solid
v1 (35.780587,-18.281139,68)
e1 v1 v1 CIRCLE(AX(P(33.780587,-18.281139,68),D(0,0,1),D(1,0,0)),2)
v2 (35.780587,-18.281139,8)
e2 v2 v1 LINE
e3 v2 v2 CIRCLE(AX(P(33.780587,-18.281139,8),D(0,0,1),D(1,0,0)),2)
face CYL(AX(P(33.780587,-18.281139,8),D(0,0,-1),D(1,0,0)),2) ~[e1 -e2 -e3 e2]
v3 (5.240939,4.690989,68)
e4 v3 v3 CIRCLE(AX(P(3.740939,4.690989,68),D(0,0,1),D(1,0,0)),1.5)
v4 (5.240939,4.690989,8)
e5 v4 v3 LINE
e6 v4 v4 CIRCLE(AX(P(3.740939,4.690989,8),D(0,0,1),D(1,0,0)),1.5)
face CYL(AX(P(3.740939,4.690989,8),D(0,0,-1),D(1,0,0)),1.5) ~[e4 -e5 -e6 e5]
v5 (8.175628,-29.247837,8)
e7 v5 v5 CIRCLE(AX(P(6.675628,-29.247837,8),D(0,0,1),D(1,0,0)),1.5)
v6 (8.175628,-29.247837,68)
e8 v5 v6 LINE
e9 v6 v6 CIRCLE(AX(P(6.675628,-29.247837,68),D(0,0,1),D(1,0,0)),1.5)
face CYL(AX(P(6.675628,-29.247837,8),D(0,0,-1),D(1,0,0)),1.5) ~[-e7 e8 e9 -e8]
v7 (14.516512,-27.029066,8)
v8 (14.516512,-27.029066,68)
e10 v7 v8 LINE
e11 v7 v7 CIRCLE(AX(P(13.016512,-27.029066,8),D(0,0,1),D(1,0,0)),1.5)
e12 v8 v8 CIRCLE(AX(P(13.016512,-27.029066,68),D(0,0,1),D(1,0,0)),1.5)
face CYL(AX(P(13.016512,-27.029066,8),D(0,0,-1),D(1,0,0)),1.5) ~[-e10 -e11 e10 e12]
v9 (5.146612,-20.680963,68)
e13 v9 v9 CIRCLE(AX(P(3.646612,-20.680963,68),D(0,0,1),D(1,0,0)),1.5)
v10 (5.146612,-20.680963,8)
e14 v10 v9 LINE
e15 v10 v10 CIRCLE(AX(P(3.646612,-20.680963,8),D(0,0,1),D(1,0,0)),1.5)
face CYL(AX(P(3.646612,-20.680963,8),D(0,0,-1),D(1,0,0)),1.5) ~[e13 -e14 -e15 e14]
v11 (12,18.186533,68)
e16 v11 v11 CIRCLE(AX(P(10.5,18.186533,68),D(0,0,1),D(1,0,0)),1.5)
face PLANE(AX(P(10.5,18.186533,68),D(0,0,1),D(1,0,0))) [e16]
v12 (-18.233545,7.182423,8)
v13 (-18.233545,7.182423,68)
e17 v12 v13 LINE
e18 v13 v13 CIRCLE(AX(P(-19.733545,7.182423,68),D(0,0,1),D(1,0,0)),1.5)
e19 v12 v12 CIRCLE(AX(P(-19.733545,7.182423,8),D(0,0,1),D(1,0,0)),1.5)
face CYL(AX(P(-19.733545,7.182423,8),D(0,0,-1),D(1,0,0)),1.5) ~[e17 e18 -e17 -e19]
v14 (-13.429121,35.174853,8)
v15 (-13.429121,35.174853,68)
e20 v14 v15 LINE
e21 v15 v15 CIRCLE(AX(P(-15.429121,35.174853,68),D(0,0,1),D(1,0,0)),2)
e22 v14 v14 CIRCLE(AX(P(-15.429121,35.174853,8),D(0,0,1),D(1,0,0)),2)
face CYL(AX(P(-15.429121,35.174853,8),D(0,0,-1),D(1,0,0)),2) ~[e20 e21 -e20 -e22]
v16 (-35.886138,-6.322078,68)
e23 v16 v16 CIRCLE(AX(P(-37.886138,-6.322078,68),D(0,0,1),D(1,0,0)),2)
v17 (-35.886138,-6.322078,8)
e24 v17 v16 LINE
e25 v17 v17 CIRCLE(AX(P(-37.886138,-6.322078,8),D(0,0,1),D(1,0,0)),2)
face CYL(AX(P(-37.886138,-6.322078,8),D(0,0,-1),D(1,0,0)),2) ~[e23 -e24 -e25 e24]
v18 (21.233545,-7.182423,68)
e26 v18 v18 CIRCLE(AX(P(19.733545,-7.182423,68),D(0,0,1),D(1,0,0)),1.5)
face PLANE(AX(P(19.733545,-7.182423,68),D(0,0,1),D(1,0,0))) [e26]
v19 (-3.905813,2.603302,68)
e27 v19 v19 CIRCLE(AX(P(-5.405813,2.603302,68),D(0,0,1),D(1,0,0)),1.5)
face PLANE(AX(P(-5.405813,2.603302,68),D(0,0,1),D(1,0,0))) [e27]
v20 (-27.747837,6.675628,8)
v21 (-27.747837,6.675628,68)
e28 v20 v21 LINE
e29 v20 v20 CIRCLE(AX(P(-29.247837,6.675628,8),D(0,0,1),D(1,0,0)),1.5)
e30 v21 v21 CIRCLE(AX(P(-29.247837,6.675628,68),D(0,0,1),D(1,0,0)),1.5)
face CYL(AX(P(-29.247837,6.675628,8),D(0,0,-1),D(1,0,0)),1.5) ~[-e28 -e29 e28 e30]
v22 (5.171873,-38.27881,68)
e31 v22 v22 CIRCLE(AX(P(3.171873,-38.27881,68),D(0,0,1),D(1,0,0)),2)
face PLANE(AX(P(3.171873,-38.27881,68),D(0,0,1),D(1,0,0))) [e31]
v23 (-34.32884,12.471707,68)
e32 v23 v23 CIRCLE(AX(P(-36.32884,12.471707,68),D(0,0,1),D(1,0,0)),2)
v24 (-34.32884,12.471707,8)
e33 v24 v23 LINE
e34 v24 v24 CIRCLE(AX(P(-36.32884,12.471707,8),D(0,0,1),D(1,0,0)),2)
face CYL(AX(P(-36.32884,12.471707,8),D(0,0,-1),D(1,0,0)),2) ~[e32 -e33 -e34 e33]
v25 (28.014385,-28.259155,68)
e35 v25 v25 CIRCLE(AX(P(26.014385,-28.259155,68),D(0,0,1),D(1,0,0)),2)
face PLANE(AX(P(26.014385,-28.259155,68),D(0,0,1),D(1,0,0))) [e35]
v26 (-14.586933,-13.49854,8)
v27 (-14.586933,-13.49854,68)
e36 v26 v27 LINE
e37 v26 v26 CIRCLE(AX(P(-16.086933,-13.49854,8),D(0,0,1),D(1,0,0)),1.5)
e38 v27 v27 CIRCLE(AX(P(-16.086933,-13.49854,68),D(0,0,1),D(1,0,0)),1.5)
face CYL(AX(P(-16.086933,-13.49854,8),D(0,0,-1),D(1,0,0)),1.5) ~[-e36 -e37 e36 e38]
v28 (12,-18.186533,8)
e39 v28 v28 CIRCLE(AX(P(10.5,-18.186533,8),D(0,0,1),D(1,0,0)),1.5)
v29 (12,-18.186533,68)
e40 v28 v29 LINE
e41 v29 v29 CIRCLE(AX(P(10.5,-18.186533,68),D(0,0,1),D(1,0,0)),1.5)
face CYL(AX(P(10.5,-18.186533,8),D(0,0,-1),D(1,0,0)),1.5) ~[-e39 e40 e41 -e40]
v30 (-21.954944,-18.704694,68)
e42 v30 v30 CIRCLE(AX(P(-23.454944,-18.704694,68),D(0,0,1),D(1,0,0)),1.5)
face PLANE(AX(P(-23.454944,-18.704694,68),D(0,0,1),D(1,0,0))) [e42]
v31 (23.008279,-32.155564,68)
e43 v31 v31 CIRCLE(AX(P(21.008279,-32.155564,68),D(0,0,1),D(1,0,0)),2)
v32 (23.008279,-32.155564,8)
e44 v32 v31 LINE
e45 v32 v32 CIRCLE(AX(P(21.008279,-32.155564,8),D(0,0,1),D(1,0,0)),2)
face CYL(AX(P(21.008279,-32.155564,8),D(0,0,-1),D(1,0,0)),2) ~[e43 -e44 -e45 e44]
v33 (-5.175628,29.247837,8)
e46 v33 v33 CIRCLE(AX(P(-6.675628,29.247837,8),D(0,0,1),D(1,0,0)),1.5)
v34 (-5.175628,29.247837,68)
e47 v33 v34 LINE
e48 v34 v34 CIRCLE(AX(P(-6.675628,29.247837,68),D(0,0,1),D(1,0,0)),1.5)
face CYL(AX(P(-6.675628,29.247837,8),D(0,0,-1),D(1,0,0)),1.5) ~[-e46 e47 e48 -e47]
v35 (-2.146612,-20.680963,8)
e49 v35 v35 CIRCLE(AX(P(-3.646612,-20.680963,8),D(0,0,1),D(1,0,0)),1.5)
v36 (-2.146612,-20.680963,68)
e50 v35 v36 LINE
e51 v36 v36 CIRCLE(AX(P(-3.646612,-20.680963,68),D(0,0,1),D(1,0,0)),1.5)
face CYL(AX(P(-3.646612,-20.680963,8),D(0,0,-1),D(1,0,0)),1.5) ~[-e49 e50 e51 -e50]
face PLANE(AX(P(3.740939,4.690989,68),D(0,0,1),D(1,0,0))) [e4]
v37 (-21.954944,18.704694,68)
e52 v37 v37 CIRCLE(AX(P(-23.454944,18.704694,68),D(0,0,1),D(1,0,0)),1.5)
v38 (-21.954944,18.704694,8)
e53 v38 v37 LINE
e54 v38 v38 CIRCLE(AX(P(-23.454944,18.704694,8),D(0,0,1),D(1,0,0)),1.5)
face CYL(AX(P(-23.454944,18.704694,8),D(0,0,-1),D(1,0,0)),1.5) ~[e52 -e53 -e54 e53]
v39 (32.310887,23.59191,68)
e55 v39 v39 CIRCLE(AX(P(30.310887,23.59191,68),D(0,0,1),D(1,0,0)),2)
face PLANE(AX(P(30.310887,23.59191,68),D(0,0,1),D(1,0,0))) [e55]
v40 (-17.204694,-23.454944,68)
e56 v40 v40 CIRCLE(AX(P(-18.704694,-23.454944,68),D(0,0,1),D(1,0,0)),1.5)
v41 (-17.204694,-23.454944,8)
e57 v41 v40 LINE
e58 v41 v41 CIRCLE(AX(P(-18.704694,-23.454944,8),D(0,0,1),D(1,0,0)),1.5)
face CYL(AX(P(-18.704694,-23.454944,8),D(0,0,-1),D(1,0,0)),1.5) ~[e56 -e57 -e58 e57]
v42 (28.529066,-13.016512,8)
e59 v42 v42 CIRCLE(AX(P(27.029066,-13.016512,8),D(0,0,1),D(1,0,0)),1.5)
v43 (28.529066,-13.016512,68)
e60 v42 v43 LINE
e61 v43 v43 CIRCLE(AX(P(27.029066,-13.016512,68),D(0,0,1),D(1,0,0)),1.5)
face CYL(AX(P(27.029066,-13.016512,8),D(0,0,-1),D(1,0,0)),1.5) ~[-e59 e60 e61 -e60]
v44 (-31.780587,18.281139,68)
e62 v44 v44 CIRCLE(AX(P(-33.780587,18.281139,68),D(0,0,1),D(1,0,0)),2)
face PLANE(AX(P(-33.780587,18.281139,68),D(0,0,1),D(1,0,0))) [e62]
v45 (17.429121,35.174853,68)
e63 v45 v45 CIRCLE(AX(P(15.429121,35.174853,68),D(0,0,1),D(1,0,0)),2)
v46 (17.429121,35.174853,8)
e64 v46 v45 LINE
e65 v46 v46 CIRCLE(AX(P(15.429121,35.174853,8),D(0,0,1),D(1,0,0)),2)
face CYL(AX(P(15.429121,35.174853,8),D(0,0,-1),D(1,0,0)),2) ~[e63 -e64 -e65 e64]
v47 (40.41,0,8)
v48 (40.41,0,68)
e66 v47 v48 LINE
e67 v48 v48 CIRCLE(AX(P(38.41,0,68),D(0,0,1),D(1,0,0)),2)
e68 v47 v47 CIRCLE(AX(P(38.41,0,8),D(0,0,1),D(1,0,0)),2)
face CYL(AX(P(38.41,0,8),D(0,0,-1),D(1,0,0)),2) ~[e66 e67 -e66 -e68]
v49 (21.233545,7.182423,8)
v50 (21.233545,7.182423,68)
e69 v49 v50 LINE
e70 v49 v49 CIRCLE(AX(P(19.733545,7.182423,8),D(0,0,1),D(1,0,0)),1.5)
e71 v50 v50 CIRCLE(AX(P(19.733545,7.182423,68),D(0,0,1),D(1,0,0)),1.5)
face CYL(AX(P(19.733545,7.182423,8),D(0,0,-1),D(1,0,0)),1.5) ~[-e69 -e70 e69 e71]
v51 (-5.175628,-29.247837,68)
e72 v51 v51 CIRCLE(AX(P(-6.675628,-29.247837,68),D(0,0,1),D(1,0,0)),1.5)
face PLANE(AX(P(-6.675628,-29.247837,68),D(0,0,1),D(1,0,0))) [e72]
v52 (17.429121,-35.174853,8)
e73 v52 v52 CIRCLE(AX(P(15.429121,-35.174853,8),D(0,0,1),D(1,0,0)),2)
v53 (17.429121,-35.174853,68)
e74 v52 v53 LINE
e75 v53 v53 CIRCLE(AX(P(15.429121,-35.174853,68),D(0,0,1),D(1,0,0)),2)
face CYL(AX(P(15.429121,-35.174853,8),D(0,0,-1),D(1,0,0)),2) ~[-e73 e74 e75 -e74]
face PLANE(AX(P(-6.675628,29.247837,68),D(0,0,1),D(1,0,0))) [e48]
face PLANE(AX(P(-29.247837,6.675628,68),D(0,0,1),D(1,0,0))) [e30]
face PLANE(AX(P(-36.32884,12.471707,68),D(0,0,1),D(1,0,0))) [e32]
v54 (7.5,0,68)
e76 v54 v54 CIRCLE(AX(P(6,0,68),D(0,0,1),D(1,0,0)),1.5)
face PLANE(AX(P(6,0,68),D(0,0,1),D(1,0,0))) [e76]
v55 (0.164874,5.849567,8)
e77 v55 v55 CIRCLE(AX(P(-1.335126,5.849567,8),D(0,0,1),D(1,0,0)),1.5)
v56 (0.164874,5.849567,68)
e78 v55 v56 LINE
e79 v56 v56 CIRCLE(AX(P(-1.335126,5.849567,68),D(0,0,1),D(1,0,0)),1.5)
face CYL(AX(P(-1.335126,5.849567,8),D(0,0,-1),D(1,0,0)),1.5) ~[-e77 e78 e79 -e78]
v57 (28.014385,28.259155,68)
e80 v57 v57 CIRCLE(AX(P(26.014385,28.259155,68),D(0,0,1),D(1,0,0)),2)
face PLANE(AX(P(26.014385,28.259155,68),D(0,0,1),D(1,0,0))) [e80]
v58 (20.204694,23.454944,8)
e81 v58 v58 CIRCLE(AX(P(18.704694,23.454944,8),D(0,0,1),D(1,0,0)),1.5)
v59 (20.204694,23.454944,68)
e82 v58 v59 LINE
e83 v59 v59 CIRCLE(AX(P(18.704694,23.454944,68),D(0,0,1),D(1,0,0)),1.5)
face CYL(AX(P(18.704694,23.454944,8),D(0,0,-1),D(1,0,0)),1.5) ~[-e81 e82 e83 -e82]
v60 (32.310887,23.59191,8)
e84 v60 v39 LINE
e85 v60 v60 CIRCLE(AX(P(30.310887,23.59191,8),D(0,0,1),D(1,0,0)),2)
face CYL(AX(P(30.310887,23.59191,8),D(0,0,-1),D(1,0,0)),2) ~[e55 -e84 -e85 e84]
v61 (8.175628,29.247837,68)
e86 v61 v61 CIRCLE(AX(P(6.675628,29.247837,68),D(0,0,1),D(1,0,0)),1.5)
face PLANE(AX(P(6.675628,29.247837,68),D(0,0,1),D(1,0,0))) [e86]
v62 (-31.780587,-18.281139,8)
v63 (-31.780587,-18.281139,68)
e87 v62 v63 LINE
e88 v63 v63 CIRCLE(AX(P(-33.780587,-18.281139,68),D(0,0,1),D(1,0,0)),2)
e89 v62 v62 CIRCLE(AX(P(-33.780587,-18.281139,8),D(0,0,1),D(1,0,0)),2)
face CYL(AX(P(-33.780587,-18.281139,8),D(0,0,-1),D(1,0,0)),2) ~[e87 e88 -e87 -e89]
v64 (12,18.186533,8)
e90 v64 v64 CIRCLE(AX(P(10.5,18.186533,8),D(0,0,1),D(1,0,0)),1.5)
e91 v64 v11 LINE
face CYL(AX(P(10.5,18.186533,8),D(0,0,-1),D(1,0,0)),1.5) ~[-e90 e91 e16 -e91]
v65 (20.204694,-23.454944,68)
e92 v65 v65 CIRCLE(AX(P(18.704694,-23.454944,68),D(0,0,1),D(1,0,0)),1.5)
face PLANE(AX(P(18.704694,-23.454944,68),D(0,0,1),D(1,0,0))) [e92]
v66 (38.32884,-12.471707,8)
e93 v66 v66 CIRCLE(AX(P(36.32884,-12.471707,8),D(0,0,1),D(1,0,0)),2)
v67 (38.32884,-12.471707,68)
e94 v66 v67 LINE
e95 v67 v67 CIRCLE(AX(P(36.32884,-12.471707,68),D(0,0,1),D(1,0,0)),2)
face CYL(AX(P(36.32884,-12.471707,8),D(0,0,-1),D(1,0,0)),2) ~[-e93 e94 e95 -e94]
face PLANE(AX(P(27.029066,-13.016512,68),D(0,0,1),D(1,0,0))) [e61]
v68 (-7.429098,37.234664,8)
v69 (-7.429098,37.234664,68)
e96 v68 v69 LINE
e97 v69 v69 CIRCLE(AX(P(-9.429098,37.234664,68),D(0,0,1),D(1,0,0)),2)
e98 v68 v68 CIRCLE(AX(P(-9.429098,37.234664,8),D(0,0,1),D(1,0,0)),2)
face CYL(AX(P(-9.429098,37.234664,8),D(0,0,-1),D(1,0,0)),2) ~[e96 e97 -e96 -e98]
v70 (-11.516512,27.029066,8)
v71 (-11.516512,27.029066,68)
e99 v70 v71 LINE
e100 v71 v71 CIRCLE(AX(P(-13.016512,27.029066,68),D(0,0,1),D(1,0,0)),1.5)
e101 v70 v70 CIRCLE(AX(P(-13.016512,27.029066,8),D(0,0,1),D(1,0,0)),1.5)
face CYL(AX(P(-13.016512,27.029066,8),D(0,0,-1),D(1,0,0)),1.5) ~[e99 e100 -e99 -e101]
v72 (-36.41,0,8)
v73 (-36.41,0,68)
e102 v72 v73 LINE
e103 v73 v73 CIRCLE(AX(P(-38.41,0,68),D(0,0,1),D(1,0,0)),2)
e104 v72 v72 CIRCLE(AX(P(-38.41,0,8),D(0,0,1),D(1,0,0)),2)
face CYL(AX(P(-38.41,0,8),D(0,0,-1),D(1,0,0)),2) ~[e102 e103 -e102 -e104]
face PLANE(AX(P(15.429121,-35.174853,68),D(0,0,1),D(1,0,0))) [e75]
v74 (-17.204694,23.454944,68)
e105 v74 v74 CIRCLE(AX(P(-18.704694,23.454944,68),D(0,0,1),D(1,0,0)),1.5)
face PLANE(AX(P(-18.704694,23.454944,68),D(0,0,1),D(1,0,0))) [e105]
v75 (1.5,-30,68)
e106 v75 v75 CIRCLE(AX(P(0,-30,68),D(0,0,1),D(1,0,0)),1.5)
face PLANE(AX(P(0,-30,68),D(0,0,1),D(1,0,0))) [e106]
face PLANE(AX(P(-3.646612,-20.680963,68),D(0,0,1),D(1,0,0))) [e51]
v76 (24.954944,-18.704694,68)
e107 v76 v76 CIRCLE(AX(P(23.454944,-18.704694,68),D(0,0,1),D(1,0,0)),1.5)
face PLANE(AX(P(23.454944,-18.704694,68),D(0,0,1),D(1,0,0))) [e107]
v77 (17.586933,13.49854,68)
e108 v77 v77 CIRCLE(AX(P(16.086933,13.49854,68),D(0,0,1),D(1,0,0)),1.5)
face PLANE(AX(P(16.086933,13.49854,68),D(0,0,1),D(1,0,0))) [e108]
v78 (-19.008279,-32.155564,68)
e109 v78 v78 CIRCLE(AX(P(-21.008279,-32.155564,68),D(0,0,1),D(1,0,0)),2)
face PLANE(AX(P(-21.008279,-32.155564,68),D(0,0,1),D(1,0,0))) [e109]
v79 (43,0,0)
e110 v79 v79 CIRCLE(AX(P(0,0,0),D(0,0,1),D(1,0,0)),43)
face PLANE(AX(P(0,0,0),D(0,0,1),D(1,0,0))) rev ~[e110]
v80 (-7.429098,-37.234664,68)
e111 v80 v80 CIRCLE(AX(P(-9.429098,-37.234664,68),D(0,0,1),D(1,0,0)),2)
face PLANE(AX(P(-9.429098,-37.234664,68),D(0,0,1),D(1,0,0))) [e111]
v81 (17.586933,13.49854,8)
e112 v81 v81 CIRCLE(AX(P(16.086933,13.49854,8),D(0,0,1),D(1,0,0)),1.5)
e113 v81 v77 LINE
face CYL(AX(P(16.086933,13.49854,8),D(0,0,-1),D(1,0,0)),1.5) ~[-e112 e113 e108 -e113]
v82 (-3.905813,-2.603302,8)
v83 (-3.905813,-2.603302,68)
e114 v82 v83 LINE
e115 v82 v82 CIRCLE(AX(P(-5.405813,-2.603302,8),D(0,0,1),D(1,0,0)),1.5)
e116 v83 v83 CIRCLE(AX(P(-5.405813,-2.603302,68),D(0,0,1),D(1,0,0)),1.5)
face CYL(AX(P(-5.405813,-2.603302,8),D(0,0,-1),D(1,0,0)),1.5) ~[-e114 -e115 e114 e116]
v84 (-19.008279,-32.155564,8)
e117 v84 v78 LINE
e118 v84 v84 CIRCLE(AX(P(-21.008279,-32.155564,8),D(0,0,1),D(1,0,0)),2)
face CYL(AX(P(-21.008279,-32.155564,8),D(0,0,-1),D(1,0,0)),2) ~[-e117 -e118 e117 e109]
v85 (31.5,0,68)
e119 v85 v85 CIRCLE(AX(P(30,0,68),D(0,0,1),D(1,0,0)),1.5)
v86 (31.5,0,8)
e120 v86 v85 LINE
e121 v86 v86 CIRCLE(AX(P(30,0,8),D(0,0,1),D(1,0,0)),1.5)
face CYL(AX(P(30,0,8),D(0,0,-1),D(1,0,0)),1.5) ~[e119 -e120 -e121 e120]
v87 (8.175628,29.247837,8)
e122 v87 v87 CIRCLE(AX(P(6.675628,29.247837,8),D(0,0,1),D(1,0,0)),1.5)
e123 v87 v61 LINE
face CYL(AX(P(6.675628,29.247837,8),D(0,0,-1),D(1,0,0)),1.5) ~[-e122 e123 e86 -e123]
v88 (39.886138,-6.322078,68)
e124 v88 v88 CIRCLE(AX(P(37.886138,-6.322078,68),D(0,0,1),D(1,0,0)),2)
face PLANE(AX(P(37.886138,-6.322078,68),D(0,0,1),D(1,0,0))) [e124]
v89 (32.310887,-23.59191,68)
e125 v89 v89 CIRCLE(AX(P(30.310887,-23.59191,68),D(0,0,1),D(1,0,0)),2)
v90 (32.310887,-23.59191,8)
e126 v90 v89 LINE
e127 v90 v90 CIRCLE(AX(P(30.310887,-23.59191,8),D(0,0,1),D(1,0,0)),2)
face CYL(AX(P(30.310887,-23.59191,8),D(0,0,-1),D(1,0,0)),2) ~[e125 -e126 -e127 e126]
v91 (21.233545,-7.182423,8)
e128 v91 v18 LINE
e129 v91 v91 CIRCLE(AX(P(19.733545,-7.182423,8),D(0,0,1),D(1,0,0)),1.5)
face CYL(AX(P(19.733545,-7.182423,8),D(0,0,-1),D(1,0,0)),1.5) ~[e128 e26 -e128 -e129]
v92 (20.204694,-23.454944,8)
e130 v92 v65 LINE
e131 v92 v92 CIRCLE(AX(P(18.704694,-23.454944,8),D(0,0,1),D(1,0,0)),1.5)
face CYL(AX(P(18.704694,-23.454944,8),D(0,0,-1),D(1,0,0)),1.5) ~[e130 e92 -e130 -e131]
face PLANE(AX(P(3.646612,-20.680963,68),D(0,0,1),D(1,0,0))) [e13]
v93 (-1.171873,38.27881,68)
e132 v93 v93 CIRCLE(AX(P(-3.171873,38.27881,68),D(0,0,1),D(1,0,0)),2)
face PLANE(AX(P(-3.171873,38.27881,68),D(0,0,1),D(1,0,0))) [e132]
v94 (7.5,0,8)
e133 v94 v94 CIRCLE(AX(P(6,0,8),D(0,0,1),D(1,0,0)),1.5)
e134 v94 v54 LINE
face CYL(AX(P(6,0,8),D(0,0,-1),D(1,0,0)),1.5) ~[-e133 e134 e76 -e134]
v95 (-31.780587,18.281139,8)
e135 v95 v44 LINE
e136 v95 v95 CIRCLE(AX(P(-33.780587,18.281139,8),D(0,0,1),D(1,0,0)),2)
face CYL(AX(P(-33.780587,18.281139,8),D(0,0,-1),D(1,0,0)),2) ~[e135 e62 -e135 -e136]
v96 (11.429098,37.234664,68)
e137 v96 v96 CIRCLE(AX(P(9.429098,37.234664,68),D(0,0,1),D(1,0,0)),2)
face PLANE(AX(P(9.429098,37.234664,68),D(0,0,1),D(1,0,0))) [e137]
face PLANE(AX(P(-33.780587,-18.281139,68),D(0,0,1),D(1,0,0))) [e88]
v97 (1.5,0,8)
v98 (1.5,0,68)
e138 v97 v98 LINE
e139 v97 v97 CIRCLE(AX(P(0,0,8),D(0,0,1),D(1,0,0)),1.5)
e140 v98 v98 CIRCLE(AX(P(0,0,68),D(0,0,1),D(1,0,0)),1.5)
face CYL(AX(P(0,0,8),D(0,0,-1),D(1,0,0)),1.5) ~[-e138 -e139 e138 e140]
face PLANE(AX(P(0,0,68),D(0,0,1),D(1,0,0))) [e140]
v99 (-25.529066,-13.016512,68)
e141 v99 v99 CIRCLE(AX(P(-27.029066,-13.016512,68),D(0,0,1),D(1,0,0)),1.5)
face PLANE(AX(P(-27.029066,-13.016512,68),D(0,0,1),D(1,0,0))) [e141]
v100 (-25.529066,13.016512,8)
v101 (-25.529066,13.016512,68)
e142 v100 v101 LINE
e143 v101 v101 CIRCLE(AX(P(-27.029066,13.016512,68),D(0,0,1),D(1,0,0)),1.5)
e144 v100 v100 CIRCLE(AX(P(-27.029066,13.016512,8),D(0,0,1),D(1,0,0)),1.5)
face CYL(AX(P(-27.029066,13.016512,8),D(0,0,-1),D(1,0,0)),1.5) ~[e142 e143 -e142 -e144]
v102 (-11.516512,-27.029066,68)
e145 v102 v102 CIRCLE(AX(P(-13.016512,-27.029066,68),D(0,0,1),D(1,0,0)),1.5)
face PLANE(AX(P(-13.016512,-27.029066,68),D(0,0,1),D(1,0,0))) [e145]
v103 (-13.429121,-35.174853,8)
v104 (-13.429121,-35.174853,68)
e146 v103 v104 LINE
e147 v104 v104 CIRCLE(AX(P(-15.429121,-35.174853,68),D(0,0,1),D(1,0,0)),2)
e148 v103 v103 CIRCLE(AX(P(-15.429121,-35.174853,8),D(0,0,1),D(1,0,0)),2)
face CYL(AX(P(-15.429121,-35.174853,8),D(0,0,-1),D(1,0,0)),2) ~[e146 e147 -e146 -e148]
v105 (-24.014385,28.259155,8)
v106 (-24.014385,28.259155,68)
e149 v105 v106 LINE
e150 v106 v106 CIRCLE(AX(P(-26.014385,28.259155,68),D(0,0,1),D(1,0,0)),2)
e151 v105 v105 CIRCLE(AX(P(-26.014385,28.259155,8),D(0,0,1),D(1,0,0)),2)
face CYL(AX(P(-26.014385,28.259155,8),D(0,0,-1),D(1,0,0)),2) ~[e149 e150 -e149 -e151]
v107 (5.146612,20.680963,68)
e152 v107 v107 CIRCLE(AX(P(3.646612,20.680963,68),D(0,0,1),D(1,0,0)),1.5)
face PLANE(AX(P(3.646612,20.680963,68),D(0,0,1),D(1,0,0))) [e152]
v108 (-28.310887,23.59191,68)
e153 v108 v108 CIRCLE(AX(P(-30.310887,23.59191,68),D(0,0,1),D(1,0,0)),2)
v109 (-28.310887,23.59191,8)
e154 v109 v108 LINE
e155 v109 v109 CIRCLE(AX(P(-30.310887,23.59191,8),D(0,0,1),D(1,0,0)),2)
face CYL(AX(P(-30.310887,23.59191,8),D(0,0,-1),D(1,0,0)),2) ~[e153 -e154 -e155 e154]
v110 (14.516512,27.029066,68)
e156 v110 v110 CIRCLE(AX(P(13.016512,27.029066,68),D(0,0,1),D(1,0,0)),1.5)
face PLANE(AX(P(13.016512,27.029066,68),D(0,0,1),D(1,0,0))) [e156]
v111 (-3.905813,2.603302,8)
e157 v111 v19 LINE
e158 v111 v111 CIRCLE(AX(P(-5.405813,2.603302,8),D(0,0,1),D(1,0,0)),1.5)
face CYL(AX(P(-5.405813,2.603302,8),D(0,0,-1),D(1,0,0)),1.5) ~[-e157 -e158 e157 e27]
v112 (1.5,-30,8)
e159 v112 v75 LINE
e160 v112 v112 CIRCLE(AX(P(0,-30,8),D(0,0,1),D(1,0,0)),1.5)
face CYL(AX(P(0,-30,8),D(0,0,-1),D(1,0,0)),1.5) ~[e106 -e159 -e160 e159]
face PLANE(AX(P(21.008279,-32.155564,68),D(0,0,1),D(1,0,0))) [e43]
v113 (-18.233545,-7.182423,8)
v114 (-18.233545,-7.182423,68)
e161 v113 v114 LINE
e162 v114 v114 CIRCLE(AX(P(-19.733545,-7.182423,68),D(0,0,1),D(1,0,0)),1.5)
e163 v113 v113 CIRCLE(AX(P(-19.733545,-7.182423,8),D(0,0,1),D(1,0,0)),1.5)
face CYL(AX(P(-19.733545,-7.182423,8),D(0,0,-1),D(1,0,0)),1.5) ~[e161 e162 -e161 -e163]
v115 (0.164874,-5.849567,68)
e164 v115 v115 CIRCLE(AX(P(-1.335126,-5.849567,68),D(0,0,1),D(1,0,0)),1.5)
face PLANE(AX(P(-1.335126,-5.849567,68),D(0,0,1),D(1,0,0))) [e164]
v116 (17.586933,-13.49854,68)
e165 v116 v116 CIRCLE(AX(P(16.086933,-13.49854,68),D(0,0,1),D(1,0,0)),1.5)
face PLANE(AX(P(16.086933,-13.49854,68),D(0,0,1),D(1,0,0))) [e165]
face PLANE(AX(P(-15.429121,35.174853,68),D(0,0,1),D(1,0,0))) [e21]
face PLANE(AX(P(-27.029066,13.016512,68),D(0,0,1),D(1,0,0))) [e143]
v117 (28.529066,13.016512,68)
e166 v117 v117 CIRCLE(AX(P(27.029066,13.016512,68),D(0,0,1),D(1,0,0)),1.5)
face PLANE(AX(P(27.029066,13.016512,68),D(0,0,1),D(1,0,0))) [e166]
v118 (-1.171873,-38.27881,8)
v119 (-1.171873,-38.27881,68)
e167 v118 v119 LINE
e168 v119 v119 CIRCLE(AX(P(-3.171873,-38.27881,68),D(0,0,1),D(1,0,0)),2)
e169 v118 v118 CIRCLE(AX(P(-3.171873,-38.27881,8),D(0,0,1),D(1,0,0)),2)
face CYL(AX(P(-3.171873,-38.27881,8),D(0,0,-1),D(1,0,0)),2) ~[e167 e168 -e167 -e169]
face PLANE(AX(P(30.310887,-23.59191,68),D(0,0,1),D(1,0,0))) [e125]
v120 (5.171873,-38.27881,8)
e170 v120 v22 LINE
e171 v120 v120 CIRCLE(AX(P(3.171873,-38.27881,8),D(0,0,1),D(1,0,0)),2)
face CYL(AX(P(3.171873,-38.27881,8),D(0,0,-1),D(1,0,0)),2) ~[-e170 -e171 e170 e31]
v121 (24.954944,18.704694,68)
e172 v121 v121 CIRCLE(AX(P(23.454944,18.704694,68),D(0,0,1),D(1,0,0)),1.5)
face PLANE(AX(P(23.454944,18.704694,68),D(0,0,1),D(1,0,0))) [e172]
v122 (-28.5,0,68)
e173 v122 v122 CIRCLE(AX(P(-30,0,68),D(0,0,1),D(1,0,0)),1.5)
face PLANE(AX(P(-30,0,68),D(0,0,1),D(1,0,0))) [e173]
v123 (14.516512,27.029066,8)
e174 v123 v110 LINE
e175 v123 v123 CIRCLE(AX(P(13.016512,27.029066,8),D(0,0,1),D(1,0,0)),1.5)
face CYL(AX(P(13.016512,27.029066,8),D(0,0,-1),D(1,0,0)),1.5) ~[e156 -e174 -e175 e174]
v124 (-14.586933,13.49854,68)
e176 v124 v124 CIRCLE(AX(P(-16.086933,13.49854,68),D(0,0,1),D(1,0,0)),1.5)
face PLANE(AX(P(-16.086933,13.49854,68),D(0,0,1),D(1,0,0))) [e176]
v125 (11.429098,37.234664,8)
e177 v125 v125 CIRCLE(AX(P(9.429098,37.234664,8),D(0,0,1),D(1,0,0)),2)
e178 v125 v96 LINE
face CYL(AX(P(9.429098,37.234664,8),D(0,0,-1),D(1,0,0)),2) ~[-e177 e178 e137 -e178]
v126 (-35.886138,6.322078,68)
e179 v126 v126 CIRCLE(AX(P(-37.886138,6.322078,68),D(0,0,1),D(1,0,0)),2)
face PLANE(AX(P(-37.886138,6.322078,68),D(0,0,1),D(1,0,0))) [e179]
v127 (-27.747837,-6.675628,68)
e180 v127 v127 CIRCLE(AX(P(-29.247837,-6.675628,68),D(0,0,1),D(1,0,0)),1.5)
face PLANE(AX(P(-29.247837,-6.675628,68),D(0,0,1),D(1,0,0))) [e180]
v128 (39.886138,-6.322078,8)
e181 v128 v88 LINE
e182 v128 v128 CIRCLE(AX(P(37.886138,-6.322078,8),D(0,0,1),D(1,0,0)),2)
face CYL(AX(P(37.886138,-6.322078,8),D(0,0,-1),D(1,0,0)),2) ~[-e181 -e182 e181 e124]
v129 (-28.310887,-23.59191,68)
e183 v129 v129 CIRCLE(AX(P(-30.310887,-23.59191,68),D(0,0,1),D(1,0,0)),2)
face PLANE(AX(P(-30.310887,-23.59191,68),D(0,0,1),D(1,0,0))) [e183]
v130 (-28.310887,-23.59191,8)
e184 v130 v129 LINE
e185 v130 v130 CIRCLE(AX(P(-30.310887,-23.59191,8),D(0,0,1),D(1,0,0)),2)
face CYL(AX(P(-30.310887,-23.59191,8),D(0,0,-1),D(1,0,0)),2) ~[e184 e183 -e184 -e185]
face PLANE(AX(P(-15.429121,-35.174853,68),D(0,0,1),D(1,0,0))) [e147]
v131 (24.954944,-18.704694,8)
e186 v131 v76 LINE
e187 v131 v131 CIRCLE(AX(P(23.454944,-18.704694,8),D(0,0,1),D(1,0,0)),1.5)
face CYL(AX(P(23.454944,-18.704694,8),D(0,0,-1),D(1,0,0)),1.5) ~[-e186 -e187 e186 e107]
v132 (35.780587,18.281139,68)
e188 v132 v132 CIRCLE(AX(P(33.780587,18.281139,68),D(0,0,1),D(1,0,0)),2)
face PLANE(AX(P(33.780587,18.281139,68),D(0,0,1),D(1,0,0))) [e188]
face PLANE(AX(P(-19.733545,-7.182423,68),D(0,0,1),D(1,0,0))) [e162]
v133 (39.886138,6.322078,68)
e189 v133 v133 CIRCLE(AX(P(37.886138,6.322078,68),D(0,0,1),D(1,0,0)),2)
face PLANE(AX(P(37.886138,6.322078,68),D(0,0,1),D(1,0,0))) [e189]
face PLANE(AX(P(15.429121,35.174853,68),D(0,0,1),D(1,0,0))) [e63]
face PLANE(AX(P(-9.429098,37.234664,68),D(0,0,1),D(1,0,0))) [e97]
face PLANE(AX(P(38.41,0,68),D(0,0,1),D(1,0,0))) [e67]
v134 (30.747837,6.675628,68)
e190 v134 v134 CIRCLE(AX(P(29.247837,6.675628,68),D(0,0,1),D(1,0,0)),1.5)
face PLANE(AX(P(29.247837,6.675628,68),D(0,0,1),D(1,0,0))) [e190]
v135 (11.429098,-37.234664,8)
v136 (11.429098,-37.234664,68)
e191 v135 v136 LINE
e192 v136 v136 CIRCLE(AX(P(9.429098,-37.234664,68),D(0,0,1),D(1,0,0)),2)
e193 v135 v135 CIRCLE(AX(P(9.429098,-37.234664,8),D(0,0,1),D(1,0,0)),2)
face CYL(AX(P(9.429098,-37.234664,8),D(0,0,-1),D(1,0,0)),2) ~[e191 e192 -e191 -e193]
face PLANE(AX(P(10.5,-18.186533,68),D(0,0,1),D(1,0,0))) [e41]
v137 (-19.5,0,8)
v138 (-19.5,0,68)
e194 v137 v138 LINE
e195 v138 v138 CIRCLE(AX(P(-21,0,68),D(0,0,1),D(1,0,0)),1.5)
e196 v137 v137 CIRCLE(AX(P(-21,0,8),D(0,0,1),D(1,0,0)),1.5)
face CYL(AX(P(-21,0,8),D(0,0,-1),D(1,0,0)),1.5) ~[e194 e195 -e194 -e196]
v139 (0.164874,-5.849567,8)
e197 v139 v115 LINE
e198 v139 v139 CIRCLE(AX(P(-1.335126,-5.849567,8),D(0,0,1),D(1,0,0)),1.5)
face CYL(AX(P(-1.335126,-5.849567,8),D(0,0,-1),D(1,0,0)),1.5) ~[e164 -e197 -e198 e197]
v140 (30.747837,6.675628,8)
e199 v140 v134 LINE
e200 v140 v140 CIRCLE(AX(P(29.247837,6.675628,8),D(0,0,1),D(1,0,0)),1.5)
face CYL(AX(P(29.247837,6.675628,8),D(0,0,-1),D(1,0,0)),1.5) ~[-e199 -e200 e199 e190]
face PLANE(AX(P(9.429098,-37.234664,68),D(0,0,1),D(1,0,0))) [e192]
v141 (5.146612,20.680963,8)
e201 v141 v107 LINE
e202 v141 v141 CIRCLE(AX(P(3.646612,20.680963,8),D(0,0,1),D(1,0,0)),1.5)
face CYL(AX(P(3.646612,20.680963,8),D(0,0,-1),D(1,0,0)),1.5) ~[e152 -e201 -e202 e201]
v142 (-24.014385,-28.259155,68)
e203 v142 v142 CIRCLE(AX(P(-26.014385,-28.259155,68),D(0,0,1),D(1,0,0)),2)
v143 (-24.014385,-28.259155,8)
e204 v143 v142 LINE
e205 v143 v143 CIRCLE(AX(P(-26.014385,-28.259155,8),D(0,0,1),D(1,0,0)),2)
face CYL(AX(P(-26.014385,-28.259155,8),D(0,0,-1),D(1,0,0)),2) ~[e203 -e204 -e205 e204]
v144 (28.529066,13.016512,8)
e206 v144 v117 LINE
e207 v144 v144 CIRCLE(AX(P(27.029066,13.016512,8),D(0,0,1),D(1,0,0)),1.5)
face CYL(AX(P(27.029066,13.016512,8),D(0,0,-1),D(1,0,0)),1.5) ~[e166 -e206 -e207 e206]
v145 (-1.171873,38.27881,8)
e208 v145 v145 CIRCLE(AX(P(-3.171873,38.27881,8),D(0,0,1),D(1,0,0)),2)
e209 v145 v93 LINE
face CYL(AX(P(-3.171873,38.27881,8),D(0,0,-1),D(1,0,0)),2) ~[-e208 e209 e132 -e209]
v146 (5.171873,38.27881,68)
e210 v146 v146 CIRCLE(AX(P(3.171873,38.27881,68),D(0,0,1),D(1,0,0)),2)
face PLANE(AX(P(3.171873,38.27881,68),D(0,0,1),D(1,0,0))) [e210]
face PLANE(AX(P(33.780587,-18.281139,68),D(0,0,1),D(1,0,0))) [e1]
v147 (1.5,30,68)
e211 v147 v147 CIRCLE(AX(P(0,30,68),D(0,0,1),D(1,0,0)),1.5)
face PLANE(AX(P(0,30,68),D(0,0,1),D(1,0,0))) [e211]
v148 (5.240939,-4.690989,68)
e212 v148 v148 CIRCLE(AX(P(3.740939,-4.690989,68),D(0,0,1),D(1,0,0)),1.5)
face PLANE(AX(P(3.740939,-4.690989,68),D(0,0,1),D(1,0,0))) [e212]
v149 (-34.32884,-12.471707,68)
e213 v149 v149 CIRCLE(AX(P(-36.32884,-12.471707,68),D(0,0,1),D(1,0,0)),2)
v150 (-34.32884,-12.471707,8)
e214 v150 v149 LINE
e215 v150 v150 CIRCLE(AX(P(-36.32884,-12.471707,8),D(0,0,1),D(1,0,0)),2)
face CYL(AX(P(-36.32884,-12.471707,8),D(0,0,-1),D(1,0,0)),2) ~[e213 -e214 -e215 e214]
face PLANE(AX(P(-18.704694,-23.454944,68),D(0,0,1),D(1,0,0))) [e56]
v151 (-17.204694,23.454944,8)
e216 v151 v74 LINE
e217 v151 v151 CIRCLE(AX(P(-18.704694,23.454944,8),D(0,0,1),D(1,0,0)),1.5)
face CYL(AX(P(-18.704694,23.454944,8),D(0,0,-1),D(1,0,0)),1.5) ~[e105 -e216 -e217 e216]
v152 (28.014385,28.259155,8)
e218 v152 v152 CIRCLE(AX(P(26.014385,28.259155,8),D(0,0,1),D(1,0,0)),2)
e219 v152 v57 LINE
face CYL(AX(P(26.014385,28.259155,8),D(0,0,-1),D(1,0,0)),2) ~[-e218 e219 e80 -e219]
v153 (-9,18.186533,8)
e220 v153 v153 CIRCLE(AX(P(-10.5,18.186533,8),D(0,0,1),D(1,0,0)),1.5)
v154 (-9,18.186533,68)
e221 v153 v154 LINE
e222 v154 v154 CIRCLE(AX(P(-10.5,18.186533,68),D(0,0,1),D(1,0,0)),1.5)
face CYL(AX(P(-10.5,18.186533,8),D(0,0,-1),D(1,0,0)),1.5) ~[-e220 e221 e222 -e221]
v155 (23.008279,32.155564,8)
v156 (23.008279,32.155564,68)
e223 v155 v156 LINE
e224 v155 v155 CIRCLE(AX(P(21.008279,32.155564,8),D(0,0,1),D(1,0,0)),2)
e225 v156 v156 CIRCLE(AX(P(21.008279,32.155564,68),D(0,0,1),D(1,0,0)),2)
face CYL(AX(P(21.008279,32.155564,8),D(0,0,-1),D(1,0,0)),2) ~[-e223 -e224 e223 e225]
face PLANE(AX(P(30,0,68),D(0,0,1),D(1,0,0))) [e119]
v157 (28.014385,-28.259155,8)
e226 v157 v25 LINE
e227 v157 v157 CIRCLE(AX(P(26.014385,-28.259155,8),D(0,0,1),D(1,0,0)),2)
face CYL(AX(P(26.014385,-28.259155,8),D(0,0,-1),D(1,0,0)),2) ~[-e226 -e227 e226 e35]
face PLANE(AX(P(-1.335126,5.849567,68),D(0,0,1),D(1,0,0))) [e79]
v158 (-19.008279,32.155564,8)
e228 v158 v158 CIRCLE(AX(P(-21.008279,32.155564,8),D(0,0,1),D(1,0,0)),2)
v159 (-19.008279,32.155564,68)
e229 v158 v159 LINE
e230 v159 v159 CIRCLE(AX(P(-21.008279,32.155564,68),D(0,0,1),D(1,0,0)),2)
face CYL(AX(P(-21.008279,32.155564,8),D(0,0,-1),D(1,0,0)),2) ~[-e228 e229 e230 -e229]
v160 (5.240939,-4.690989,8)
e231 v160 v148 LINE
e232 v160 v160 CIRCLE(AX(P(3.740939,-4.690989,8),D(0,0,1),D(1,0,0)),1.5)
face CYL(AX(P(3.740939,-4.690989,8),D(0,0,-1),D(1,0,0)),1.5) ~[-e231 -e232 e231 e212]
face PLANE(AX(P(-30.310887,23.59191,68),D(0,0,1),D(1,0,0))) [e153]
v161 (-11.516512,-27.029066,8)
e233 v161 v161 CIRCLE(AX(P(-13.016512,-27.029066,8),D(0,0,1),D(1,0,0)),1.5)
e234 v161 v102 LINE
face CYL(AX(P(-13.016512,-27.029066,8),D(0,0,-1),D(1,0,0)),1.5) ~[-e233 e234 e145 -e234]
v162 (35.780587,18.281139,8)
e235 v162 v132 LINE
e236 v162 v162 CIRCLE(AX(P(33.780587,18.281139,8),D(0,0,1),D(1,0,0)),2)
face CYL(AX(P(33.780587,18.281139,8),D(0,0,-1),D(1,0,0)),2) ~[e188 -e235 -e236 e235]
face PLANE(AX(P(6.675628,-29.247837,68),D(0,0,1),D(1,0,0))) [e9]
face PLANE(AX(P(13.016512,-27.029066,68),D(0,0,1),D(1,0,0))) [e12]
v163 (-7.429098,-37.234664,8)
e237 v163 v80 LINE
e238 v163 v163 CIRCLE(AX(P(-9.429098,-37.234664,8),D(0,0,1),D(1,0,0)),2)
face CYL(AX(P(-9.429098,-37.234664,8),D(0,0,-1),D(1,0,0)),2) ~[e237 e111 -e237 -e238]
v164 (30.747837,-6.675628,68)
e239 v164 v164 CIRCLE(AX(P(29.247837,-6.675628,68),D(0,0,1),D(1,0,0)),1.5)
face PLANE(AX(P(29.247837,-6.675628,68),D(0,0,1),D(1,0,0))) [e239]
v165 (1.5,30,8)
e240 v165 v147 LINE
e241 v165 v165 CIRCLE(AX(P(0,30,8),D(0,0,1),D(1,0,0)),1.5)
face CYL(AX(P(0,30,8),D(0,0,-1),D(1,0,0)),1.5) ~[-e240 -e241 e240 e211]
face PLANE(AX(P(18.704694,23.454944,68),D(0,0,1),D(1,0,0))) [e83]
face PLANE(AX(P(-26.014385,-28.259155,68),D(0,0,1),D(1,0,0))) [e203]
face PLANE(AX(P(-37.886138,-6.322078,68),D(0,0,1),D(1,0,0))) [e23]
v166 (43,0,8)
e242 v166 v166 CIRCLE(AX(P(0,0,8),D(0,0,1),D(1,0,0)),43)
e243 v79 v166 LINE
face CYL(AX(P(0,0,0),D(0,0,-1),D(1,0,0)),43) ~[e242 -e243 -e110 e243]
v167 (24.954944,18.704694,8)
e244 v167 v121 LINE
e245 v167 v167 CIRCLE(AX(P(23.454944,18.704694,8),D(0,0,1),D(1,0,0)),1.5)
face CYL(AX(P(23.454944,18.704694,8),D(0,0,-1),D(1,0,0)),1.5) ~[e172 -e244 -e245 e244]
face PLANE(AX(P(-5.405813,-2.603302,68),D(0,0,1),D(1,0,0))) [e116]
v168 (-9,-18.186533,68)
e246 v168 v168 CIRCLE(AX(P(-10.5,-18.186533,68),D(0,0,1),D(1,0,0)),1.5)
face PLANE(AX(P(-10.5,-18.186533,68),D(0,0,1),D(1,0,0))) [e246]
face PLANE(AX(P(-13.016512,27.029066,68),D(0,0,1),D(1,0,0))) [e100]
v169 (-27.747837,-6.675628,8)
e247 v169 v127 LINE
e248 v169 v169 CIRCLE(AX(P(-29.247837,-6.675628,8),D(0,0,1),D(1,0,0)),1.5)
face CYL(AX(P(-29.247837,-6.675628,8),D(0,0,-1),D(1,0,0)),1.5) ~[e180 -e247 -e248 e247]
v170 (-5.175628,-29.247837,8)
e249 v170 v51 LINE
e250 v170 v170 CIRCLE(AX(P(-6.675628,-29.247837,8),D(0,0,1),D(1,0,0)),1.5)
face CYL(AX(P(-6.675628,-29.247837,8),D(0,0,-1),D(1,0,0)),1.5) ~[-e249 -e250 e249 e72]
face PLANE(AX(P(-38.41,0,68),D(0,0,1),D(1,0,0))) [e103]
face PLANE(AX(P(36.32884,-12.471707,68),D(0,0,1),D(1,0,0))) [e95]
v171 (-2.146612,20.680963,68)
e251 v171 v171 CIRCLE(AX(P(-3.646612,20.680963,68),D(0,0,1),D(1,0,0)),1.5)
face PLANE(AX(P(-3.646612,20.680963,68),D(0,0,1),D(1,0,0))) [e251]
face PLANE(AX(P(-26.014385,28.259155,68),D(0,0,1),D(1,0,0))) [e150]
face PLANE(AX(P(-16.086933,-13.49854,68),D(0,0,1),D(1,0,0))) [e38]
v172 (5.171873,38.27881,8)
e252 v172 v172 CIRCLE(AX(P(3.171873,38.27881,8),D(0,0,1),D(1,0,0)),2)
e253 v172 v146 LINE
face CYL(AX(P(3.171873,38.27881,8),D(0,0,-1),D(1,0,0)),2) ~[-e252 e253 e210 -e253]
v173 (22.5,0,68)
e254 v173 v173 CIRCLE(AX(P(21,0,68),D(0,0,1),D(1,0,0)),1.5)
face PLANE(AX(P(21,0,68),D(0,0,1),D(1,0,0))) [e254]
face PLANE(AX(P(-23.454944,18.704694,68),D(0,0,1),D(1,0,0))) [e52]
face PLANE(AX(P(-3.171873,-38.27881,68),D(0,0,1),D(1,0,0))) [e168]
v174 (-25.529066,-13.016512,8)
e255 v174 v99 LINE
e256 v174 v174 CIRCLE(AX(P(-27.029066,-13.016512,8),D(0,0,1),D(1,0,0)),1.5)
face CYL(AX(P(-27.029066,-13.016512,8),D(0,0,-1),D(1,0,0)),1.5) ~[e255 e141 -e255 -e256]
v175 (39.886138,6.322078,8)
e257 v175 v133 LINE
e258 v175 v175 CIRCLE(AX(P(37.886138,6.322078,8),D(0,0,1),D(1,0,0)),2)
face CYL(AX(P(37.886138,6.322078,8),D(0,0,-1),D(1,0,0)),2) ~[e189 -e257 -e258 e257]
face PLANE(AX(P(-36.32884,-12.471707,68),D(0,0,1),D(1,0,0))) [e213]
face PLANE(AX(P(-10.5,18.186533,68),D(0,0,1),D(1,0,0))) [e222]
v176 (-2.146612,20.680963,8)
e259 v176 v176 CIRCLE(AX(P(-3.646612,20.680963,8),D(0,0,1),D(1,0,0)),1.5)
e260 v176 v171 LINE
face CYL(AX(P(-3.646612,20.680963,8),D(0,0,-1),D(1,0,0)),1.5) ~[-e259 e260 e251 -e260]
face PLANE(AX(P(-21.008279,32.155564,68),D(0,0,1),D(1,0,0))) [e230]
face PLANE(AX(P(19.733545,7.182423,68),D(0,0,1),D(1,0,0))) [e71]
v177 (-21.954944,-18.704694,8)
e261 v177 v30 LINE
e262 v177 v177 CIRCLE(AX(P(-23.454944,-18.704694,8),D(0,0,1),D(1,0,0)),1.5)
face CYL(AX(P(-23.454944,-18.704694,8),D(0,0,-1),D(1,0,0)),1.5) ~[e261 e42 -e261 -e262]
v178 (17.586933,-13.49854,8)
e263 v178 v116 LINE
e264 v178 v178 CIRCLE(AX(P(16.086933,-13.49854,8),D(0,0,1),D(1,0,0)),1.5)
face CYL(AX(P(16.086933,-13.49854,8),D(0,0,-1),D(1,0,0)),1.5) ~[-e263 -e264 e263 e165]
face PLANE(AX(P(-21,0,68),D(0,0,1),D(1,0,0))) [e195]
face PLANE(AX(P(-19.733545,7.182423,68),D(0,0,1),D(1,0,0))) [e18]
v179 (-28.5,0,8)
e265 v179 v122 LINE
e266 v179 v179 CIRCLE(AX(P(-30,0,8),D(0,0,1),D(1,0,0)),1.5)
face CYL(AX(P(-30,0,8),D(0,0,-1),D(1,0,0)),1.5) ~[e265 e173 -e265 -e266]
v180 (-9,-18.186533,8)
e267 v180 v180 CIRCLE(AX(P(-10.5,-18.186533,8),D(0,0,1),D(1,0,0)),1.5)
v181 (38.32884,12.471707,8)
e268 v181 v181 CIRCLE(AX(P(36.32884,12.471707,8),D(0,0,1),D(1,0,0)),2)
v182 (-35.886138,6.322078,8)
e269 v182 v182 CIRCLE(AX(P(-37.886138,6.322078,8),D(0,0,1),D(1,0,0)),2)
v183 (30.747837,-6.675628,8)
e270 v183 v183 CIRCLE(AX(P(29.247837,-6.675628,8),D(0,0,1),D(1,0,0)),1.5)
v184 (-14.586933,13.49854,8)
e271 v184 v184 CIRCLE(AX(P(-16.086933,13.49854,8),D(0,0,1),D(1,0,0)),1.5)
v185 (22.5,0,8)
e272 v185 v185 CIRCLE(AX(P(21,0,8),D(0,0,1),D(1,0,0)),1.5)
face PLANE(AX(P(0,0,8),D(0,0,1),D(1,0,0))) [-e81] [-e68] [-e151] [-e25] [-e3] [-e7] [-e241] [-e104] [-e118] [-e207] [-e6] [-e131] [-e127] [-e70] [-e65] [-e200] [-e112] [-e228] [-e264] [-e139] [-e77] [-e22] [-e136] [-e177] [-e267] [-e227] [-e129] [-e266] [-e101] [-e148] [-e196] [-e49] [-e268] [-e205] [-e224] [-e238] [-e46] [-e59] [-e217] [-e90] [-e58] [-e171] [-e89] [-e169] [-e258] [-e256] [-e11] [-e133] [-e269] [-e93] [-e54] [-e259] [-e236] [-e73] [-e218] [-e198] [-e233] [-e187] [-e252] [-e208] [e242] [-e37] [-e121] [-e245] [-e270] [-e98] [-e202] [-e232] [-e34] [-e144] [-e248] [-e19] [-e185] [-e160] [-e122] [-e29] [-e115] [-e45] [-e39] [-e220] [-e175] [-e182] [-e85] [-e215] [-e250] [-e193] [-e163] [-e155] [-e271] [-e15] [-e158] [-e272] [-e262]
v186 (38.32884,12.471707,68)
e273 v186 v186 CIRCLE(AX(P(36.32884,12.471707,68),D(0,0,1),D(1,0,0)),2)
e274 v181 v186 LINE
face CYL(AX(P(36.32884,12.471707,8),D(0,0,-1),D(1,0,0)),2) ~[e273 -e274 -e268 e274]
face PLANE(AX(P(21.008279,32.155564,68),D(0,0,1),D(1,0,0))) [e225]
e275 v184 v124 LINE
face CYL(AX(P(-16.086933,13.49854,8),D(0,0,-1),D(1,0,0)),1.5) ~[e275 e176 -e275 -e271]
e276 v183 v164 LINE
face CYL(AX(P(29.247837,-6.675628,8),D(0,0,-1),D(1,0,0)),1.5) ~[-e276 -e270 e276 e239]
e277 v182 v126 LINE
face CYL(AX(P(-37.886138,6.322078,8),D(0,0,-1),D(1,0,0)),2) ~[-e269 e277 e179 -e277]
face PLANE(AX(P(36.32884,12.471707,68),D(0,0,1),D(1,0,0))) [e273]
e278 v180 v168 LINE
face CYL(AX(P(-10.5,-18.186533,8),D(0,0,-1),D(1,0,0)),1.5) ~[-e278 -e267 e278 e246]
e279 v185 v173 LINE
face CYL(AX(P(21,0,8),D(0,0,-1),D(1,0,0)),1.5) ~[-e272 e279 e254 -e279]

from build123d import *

# Parameters (mm, degrees)
F2_R     = 43
F3_DEPTH = 8
F4_R     = 1.5
F4_R_2   = 2
F5_DEPTH = 60


with BuildPart() as f3:
    # F2 (on Top) → F3 (new body)
    with BuildSketch(Plane.XY):
        Circle(F2_R)
    extrude(amount=F3_DEPTH)

    # F4 (on face) → F5 (join)
    with BuildSketch(Plane.XY.offset(8)):
        Circle(F4_R)
        with Locations((6, 0)):
            Circle(F4_R)
        with Locations((21, 0)):
            Circle(F4_R)
        with Locations((38.41, 0)):
            Circle(F4_R_2)
        with Locations((3.7409388112, 4.6909888948)):
            Circle(F4_R)
        with Locations((-1.3351256037, 5.8495674731)):
            Circle(F4_R)
        with Locations((-5.4058132074, 2.6033024347)):
            Circle(F4_R)
        with Locations((-5.4058132074, -2.6033024347)):
            Circle(F4_R)
        with Locations((-1.3351256037, -5.8495674731)):
            Circle(F4_R)
        with Locations((3.7409388112, -4.6909888948)):
            Circle(F4_R)
        with Locations((19.7335450365, 7.1824230098)):
            Circle(F4_R)
        with Locations((16.0869333055, 13.4985398034)):
            Circle(F4_R)
        with Locations((10.5, 18.1865334795)):
            Circle(F4_R)
        with Locations((3.646611731, 20.6809628133)):
            Circle(F4_R)
        with Locations((-3.646611731, 20.6809628133)):
            Circle(F4_R)
        with Locations((-10.5, 18.1865334795)):
            Circle(F4_R)
        with Locations((-16.0869333055, 13.4985398034)):
            Circle(F4_R)
        with Locations((-19.7335450365, 7.1824230098)):
            Circle(F4_R)
        with Locations((-21, 0)):
            Circle(F4_R)
        with Locations((-19.7335450365, -7.1824230098)):
            Circle(F4_R)
        with Locations((-16.0869333055, -13.4985398034)):
            Circle(F4_R)
        with Locations((-10.5, -18.1865334795)):
            Circle(F4_R)
        with Locations((-3.646611731, -20.6809628133)):
            Circle(F4_R)
        with Locations((3.646611731, -20.6809628133)):
            Circle(F4_R)
        with Locations((10.5, -18.1865334795)):
            Circle(F4_R)
        with Locations((16.0869333055, -13.4985398034)):
            Circle(F4_R)
        with Locations((19.7335450365, -7.1824230098)):
            Circle(F4_R)
        with Locations((30, 0)):
            Circle(F4_R)
        with Locations((29.2478373655, 6.6756280187)):
            Circle(F4_R)
        with Locations((27.0290660371, 13.0165121735)):
            Circle(F4_R)
        with Locations((23.454944474, 18.7046940558)):
            Circle(F4_R)
        with Locations((18.7046940558, 23.454944474)):
            Circle(F4_R)
        with Locations((13.0165121735, 27.0290660371)):
            Circle(F4_R)
        with Locations((6.6756280187, 29.2478373655)):
            Circle(F4_R)
        with Locations((0, 30)):
            Circle(F4_R)
        with Locations((-6.6756280187, 29.2478373655)):
            Circle(F4_R)
        with Locations((-13.0165121735, 27.0290660371)):
            Circle(F4_R)
        with Locations((-18.7046940558, 23.454944474)):
            Circle(F4_R)
        with Locations((-23.454944474, 18.7046940558)):
            Circle(F4_R)
        with Locations((-27.0290660371, 13.0165121735)):
            Circle(F4_R)
        with Locations((-29.2478373655, 6.6756280187)):
            Circle(F4_R)
        with Locations((-30, 0)):
            Circle(F4_R)
        with Locations((-29.2478373655, -6.6756280187)):
            Circle(F4_R)
        with Locations((-27.0290660371, -13.0165121735)):
            Circle(F4_R)
        with Locations((-23.454944474, -18.7046940558)):
            Circle(F4_R)
        with Locations((-18.7046940558, -23.454944474)):
            Circle(F4_R)
        with Locations((-13.0165121735, -27.0290660371)):
            Circle(F4_R)
        with Locations((-6.6756280187, -29.2478373655)):
            Circle(F4_R)
        with Locations((0, -30)):
            Circle(F4_R)
        with Locations((6.6756280187, -29.2478373655)):
            Circle(F4_R)
        with Locations((13.0165121735, -27.0290660371)):
            Circle(F4_R)
        with Locations((18.7046940558, -23.454944474)):
            Circle(F4_R)
        with Locations((23.454944474, -18.7046940558)):
            Circle(F4_R)
        with Locations((27.0290660371, -13.0165121735)):
            Circle(F4_R)
        with Locations((29.2478373655, -6.6756280187)):
            Circle(F4_R)
        with Locations((37.8861376637, 6.3220782127)):
            Circle(F4_R_2)
        with Locations((36.3288402537, 12.4717066122)):
            Circle(F4_R_2)
        with Locations((33.7805867838, 18.2811393666)):
            Circle(F4_R_2)
        with Locations((30.3108869659, 23.5919102944)):
            Circle(F4_R_2)
        with Locations((26.0143851661, 28.259155409)):
            Circle(F4_R_2)
        with Locations((21.0082787535, 32.1555644301)):
            Circle(F4_R_2)
        with Locations((15.4291212609, 35.1748534768)):
            Circle(F4_R_2)
        with Locations((9.4290975611, 37.2346642147)):
            Circle(F4_R_2)
        with Locations((3.1718726596, 38.2788103764)):
            Circle(F4_R_2)
        with Locations((-3.1718726596, 38.2788103764)):
            Circle(F4_R_2)
        with Locations((-9.4290975611, 37.2346642147)):
            Circle(F4_R_2)
        with Locations((-15.4291212609, 35.1748534768)):
            Circle(F4_R_2)
        with Locations((-21.0082787535, 32.1555644301)):
            Circle(F4_R_2)
        with Locations((-26.0143851661, 28.259155409)):
            Circle(F4_R_2)
        with Locations((-30.3108869659, 23.5919102944)):
            Circle(F4_R_2)
        with Locations((-33.7805867838, 18.2811393666)):
            Circle(F4_R_2)
        with Locations((-36.3288402537, 12.4717066122)):
            Circle(F4_R_2)
        with Locations((-37.8861376637, 6.3220782127)):
            Circle(F4_R_2)
        with Locations((-38.41, 0)):
            Circle(F4_R_2)
        with Locations((-37.8861376637, -6.3220782127)):
            Circle(F4_R_2)
        with Locations((-36.3288402537, -12.4717066122)):
            Circle(F4_R_2)
        with Locations((-33.7805867838, -18.2811393666)):
            Circle(F4_R_2)
        with Locations((-30.3108869659, -23.5919102944)):
            Circle(F4_R_2)
        with Locations((-26.0143851661, -28.259155409)):
            Circle(F4_R_2)
        with Locations((-21.0082787535, -32.1555644301)):
            Circle(F4_R_2)
        with Locations((-15.4291212609, -35.1748534768)):
            Circle(F4_R_2)
        with Locations((-9.4290975611, -37.2346642147)):
            Circle(F4_R_2)
        with Locations((-3.1718726596, -38.2788103764)):
            Circle(F4_R_2)
        with Locations((3.1718726596, -38.2788103764)):
            Circle(F4_R_2)
        with Locations((9.4290975611, -37.2346642147)):
            Circle(F4_R_2)
        with Locations((15.4291212609, -35.1748534768)):
            Circle(F4_R_2)
        with Locations((21.0082787535, -32.1555644301)):
            Circle(F4_R_2)
        with Locations((26.0143851661, -28.259155409)):
            Circle(F4_R_2)
        with Locations((30.3108869659, -23.5919102944)):
            Circle(F4_R_2)
        with Locations((33.7805867838, -18.2811393666)):
            Circle(F4_R_2)
        with Locations((36.3288402537, -12.4717066122)):
            Circle(F4_R_2)
        with Locations((37.8861376637, -6.3220782127)):
            Circle(F4_R_2)
    extrude(amount=F5_DEPTH)


solid = f3.part
